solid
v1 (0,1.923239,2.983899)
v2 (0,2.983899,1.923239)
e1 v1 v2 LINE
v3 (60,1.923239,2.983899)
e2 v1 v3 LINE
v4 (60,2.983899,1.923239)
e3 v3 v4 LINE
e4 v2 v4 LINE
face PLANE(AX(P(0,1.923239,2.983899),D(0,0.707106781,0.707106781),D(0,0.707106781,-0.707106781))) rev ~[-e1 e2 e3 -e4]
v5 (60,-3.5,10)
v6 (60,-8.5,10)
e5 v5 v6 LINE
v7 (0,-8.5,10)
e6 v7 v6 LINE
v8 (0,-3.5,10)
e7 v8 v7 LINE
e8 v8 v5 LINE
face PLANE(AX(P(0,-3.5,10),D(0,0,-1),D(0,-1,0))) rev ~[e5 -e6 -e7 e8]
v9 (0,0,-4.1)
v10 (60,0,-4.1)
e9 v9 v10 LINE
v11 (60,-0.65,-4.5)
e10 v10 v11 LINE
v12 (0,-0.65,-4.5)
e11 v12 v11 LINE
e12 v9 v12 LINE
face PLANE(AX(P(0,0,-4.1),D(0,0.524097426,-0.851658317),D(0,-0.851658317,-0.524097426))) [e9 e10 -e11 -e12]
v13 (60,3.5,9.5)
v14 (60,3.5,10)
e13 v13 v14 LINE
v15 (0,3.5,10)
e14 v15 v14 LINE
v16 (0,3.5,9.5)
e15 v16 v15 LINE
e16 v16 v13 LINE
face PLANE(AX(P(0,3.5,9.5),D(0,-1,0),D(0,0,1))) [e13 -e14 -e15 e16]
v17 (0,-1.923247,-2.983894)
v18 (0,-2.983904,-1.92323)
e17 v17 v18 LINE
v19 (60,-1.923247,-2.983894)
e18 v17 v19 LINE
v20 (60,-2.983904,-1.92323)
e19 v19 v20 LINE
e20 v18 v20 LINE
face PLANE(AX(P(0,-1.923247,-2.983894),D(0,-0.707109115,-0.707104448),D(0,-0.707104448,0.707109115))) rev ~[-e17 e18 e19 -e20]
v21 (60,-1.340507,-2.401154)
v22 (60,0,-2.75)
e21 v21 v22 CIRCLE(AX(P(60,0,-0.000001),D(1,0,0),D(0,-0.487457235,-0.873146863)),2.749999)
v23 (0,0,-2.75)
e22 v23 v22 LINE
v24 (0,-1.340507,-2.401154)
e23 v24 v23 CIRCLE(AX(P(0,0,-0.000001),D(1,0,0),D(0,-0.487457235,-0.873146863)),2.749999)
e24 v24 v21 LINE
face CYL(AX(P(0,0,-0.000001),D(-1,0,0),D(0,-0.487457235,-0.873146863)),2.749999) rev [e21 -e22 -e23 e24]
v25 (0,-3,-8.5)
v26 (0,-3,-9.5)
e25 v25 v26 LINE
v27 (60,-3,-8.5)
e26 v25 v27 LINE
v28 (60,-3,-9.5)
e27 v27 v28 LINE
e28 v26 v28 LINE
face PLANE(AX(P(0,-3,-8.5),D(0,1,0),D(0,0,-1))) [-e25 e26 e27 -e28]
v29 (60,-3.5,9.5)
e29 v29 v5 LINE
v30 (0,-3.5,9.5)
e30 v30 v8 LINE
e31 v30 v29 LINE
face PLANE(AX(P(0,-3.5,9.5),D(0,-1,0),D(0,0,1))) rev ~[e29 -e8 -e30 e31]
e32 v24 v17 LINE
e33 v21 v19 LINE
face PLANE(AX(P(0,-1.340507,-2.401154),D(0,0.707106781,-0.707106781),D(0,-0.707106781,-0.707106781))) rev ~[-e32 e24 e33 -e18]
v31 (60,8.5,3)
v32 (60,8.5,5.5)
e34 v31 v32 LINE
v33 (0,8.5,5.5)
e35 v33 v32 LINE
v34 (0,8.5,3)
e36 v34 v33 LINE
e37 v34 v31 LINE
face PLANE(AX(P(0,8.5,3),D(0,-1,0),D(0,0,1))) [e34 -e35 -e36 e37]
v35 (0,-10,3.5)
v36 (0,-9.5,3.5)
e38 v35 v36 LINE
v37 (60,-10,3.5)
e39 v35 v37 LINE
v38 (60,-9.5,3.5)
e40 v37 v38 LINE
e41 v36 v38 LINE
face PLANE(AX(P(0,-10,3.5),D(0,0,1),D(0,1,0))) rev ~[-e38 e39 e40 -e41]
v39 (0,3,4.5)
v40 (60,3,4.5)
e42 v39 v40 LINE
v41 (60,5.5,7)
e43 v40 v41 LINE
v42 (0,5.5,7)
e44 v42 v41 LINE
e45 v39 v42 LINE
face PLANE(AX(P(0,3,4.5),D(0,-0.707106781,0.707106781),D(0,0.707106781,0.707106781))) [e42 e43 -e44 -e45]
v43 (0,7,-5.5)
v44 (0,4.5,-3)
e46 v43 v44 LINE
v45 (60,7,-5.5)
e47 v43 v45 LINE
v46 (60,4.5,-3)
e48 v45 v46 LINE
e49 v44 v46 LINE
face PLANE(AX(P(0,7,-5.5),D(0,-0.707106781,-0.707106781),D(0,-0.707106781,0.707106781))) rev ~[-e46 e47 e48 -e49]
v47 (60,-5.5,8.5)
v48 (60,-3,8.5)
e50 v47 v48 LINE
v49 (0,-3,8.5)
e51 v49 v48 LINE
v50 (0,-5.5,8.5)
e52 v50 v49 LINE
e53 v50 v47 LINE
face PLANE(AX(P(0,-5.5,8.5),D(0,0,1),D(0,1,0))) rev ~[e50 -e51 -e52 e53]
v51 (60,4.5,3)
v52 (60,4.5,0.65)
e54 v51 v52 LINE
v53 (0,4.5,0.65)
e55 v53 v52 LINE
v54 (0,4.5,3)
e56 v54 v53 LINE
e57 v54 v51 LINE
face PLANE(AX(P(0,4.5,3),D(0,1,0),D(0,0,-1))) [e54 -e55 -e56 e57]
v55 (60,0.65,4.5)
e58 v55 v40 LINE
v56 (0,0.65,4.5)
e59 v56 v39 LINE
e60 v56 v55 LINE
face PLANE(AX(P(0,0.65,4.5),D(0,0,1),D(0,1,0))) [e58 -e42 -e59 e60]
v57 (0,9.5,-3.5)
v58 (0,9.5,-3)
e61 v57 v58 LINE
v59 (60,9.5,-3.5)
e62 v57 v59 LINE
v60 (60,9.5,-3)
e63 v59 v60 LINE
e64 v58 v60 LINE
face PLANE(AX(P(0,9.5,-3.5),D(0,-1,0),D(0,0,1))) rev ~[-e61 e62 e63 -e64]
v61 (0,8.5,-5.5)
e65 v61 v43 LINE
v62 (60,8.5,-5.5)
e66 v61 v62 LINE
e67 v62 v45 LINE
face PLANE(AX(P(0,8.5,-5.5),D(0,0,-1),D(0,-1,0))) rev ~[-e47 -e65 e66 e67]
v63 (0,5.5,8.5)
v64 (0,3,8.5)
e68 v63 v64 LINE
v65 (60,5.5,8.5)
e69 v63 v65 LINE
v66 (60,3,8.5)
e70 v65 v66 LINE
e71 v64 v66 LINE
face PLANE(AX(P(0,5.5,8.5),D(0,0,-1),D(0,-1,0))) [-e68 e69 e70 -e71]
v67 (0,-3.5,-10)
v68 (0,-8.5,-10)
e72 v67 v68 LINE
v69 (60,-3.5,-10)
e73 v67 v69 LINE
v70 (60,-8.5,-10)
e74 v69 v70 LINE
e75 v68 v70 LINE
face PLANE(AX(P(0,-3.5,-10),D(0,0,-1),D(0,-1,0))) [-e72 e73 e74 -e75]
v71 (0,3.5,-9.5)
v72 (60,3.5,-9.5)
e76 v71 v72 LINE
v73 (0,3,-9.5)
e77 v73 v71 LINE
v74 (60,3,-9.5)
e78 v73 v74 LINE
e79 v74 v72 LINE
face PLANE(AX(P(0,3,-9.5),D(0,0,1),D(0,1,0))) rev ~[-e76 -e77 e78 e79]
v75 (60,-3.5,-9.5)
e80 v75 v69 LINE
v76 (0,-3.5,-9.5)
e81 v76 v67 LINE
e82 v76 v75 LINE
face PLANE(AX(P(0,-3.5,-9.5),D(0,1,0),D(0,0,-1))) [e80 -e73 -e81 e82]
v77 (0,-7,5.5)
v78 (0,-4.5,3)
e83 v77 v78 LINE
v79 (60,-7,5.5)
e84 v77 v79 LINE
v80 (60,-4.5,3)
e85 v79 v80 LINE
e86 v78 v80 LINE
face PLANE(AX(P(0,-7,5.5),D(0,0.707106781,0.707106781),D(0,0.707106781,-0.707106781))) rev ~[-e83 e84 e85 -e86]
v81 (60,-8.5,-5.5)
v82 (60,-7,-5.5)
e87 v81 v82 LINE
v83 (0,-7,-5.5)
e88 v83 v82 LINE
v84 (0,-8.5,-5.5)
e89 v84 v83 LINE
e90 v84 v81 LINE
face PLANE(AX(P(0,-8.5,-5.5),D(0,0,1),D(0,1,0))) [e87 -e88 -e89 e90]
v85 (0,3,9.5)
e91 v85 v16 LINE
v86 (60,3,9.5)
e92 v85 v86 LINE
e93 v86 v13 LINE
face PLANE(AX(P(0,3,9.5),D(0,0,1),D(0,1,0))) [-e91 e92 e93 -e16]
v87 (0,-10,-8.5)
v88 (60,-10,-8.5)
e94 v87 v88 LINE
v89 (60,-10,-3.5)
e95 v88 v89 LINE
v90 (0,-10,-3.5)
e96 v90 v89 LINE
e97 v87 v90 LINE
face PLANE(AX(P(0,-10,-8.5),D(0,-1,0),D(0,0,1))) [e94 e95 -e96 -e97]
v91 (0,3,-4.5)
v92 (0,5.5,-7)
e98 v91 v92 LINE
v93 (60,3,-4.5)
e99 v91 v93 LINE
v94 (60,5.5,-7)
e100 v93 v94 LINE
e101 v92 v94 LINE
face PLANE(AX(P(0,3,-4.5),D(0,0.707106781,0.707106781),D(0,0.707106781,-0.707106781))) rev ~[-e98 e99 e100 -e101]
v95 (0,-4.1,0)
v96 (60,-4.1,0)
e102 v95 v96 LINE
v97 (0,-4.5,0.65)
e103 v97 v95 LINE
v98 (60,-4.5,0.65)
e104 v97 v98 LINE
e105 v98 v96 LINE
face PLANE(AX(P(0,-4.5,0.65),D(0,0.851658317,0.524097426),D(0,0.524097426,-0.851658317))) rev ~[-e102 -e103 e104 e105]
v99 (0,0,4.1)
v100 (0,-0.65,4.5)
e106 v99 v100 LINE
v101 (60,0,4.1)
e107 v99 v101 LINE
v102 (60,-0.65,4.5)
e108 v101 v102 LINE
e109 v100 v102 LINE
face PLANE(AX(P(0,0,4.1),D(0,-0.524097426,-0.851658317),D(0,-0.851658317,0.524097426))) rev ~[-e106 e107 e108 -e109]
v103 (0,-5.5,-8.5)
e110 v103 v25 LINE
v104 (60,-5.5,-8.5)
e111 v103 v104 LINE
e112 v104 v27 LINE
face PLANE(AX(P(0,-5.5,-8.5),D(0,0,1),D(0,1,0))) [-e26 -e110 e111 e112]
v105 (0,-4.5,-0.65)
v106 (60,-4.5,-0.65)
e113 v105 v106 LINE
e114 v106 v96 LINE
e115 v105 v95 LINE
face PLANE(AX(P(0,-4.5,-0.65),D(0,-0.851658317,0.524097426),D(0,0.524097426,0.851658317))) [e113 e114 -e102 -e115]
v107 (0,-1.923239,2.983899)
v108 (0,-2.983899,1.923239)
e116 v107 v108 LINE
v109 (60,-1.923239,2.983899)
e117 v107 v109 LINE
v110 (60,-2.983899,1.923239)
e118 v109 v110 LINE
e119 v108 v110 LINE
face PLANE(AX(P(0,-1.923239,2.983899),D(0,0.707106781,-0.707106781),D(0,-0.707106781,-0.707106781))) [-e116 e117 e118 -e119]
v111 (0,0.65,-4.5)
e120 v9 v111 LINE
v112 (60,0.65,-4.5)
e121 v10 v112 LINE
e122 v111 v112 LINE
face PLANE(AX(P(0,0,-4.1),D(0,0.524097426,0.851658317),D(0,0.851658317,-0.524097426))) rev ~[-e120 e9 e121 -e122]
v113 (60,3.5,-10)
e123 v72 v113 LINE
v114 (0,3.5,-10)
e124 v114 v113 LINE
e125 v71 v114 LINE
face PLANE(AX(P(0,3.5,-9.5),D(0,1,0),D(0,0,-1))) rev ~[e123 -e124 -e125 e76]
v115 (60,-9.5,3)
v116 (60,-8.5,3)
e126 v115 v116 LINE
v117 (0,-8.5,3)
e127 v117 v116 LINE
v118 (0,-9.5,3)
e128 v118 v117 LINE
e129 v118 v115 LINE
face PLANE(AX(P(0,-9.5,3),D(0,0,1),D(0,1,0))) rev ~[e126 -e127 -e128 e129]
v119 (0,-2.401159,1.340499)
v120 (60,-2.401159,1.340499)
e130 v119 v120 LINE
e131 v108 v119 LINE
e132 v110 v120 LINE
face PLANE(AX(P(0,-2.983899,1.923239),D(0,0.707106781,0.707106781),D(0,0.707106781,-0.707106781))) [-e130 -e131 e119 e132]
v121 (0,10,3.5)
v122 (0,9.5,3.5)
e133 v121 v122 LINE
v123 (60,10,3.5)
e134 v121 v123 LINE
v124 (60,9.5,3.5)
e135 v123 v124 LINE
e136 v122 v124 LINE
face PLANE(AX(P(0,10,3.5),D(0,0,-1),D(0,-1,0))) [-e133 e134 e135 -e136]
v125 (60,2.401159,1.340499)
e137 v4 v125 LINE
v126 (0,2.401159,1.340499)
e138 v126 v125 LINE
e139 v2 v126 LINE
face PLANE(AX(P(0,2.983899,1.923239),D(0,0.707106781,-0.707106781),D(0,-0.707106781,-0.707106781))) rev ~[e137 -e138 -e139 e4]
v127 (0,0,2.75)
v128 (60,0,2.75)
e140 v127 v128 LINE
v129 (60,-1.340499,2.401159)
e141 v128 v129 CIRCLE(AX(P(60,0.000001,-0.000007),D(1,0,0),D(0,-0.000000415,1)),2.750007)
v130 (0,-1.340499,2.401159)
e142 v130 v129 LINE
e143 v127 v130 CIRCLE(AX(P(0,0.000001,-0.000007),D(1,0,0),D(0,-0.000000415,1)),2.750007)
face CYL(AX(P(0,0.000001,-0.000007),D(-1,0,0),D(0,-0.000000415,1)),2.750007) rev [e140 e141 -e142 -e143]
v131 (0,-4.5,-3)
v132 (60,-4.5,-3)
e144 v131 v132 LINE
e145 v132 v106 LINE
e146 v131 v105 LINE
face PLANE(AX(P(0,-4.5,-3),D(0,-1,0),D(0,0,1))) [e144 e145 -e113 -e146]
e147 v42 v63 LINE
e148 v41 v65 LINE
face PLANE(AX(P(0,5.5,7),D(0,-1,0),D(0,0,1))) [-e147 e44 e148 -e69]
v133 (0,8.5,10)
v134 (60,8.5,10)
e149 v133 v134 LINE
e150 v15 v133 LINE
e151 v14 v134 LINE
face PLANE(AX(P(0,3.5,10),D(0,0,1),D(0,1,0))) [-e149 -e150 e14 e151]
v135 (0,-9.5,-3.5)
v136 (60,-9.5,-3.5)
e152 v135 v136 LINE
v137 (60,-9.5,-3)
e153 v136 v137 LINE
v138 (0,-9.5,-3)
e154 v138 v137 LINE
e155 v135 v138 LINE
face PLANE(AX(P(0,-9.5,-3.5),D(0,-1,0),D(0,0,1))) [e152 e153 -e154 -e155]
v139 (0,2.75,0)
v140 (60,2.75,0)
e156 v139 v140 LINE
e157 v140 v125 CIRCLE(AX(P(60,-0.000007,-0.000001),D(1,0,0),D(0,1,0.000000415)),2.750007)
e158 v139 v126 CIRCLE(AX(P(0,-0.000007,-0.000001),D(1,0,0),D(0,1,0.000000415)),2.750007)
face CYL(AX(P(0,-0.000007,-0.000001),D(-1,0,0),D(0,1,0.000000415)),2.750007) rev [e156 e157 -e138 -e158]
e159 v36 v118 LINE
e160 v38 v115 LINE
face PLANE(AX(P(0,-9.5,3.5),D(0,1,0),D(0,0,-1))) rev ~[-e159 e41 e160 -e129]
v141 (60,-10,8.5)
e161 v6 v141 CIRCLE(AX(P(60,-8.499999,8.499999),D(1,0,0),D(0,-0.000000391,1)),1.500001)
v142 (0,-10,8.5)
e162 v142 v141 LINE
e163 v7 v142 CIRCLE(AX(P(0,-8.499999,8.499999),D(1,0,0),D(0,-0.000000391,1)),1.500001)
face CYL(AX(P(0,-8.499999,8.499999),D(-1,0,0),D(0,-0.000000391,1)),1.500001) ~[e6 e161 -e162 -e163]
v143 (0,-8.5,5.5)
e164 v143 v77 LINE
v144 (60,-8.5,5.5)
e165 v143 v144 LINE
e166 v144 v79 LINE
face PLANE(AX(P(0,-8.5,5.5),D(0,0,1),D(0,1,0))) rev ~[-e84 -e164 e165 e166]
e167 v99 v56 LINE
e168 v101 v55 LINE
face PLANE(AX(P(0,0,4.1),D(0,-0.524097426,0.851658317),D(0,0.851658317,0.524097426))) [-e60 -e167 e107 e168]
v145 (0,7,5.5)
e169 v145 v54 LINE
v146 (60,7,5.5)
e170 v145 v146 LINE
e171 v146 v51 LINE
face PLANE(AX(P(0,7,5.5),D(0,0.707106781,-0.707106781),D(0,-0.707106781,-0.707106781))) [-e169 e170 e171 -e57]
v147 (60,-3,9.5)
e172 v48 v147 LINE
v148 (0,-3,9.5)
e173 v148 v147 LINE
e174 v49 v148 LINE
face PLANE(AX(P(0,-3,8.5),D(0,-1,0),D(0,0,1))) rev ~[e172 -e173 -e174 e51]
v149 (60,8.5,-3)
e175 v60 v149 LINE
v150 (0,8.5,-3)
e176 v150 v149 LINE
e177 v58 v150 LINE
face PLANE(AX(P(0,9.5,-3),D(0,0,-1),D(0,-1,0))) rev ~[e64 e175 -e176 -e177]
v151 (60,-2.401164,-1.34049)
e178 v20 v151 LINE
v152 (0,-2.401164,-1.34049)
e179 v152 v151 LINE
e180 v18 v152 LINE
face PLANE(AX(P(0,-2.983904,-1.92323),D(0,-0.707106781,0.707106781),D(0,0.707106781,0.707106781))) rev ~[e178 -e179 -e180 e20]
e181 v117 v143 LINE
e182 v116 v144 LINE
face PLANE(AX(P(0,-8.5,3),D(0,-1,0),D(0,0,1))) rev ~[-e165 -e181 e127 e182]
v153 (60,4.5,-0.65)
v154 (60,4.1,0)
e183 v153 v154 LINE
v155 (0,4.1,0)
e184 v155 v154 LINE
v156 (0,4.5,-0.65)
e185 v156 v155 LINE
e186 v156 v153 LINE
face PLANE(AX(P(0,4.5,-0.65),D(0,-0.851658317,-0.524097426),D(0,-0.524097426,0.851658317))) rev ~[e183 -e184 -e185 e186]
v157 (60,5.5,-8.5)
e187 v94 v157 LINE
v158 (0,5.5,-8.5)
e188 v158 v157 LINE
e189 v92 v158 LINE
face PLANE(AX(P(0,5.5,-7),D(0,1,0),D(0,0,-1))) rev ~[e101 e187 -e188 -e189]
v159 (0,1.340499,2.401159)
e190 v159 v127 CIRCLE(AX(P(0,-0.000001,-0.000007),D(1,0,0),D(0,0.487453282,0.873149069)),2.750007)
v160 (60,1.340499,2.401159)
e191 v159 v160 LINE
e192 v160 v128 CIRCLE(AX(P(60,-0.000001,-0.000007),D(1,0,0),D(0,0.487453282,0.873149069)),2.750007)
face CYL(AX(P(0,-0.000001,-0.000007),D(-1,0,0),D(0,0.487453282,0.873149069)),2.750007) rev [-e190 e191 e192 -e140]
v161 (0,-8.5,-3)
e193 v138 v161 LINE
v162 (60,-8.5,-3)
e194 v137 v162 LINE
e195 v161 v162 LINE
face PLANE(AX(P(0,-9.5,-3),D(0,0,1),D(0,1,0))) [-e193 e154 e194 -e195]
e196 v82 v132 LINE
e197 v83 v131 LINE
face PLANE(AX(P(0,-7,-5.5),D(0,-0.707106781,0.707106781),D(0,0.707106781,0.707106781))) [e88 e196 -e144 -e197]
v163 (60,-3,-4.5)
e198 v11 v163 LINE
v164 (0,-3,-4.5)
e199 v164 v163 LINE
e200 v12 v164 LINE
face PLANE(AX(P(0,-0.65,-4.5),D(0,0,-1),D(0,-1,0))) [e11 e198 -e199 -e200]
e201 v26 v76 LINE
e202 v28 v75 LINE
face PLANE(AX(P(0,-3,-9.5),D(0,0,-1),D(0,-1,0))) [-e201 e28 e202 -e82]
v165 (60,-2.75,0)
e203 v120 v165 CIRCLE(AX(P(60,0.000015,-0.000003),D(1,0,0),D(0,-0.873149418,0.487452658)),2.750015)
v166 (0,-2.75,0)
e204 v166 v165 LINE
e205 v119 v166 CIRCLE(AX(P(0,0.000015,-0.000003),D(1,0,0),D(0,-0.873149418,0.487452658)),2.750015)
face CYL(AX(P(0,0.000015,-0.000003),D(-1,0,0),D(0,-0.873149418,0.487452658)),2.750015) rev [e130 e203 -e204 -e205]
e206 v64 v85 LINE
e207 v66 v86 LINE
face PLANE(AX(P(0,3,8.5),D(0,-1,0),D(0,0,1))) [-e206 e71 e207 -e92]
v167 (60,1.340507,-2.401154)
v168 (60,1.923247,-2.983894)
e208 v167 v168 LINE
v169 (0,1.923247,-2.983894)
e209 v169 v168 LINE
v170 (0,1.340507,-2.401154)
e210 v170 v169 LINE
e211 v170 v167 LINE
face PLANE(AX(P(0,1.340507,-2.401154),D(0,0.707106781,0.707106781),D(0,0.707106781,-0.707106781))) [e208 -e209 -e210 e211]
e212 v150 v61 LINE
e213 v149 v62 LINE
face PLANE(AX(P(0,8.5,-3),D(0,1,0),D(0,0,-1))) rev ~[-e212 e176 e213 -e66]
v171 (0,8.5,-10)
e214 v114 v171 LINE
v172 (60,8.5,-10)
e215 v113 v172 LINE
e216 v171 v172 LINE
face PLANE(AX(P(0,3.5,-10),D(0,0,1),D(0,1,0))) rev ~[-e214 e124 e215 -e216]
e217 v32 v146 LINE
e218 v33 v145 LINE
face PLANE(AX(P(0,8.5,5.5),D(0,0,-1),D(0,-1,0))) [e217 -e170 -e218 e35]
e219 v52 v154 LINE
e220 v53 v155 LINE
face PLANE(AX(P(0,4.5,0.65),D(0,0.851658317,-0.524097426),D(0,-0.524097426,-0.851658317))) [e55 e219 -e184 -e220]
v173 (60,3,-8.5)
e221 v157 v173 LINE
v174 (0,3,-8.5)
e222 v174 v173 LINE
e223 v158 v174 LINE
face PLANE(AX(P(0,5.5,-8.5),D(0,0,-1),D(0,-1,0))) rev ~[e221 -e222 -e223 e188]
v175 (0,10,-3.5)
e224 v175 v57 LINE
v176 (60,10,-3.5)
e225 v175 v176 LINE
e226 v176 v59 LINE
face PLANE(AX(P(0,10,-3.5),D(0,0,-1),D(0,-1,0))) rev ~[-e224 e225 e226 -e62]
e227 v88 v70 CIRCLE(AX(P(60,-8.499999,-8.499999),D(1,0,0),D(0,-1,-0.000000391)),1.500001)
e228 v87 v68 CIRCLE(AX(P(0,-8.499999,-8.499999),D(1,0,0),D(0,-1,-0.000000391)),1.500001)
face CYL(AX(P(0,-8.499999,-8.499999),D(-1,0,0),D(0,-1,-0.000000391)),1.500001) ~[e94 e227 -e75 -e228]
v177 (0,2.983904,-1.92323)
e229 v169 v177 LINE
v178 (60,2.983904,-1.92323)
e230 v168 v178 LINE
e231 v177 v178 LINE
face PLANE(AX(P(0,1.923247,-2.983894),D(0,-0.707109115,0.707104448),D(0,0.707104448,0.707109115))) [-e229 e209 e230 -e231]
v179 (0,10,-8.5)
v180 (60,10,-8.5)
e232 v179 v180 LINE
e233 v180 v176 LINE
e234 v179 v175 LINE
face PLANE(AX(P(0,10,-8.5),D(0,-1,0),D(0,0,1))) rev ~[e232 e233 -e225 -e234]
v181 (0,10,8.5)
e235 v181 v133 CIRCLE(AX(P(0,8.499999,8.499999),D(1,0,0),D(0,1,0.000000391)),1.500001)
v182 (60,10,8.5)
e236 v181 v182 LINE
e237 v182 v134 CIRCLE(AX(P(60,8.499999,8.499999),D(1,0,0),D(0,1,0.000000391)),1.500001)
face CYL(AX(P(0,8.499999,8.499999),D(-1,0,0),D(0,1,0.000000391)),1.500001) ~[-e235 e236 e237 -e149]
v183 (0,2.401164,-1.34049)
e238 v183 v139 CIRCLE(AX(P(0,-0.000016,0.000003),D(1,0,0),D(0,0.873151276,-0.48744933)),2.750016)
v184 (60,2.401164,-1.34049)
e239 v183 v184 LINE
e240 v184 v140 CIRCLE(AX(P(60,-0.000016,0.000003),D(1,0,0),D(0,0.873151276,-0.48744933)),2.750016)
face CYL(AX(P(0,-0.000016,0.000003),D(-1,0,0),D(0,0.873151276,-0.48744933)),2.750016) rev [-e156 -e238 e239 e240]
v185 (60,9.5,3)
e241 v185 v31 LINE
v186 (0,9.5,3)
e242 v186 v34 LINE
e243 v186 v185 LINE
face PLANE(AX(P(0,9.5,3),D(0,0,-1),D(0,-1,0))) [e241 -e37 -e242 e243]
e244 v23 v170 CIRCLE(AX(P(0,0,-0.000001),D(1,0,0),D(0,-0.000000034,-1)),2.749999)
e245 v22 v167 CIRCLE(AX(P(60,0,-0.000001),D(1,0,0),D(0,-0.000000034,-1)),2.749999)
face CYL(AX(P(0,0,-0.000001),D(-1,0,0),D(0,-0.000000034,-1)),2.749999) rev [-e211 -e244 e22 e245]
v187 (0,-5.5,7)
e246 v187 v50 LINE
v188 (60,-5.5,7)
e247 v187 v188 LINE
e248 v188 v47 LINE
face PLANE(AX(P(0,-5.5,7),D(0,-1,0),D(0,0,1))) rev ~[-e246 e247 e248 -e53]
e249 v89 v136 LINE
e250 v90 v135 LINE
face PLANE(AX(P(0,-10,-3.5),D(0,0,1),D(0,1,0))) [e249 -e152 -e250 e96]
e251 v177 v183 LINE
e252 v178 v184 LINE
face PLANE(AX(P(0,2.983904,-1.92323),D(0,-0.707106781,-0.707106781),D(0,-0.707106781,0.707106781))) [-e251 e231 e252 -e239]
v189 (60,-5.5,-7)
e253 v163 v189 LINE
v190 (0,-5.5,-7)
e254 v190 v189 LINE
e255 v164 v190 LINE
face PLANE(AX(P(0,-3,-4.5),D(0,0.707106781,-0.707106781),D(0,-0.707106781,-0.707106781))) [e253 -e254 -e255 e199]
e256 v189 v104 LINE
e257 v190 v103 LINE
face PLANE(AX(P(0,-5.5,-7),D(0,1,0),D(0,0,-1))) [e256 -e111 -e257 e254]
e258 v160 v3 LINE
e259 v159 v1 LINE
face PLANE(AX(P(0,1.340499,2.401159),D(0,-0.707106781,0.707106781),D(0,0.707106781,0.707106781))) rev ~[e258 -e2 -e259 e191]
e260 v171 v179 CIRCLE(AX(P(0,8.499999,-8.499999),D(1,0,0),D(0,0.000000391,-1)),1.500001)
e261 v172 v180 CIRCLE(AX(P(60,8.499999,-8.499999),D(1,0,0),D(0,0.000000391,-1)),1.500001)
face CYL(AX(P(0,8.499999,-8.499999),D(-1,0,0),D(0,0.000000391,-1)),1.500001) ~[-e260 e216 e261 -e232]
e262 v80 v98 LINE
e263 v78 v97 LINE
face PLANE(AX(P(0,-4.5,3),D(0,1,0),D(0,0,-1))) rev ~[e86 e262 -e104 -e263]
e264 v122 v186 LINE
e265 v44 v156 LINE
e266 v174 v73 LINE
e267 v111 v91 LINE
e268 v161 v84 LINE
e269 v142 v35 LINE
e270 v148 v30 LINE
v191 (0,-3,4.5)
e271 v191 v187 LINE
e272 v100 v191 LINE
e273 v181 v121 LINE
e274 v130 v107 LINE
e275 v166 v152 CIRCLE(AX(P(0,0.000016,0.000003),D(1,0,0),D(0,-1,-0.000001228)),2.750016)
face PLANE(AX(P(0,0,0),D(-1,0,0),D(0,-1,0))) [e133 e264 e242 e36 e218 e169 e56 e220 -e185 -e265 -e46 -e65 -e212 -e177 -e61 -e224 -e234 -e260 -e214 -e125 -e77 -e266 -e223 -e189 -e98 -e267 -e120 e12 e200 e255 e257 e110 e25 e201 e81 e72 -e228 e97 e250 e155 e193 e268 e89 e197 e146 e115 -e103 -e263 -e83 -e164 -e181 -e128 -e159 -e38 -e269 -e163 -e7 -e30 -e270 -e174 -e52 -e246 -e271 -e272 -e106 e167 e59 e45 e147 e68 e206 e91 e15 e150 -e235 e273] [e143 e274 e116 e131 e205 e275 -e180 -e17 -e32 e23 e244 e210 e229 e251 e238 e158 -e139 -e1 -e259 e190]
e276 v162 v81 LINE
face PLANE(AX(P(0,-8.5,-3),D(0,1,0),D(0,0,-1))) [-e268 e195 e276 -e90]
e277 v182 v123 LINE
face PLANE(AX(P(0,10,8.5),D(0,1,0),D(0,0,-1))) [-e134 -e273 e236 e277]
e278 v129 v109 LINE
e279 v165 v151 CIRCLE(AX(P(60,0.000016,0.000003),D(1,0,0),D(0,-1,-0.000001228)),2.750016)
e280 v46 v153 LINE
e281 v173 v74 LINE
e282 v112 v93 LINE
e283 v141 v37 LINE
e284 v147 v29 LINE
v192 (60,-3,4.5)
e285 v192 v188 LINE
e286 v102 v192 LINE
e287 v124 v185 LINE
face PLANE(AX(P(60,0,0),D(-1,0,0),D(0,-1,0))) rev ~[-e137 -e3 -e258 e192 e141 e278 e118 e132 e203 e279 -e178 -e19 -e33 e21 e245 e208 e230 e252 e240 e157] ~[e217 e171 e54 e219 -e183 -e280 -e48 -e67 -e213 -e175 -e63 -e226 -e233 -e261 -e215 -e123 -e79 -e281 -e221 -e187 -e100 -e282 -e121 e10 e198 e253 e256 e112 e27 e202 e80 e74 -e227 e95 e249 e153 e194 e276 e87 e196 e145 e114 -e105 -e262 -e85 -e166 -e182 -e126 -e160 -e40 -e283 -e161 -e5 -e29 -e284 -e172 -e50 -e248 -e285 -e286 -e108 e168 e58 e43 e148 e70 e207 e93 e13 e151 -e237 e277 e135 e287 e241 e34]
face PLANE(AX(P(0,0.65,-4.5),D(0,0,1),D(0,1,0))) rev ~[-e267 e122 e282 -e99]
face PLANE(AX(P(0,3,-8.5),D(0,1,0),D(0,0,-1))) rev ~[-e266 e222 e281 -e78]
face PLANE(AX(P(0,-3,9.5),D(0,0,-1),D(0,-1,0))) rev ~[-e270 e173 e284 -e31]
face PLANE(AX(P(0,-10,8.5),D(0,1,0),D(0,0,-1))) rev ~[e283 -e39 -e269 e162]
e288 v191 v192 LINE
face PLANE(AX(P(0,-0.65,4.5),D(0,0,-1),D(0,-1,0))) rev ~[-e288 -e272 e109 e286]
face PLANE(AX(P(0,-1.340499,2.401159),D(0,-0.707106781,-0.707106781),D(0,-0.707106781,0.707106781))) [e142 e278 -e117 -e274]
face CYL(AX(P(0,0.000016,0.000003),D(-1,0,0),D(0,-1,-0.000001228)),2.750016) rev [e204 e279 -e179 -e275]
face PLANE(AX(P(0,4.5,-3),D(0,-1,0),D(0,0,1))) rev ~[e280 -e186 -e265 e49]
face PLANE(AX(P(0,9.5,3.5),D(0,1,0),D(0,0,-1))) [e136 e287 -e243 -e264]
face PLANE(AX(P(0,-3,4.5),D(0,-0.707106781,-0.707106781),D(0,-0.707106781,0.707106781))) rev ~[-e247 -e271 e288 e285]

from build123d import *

# Parameters (mm, degrees)
PAD_DEPTH = 60


with BuildPart() as part:
    # Sketch → Pad (new body)
    with BuildSketch(Plane.YZ):
        with BuildLine():
            Line((0, 4.1), (0.65, 4.5))
            Line((0.65, 4.5), (3, 4.5))
            Line((3, 4.5), (5.5, 7))
            Line((5.5, 7), (5.5, 8.5))
            Line((5.5, 8.5), (3, 8.5))
            Line((3, 8.5), (3, 9.5))
            Line((3, 9.5), (3.5, 9.5))
            Line((3.5, 9.5), (3.5, 10))
            Line((3.5, 10), (8.5, 10))
            ThreePointArc((10, 8.5), (9.56066, 9.56066), (8.5, 10))
            Line((10, 8.5), (10, 3.5))
            Line((10, 3.5), (9.5, 3.5))
            Line((9.5, 3.5), (9.5, 3))
            Line((9.5, 3), (8.5, 3))
            Line((8.5, 3), (8.5, 5.5))
            Line((8.5, 5.5), (7, 5.5))
            Line((7, 5.5), (4.5, 3))
            Line((4.5, 3), (4.5, 0.65))
            Line((4.5, 0.65), (4.1, 0))
            Line((4.5, -0.65), (4.1, 0))
            Line((4.5, -3), (4.5, -0.65))
            Line((7, -5.5), (4.5, -3))
            Line((8.5, -5.5), (7, -5.5))
            Line((8.5, -3), (8.5, -5.5))
            Line((9.5, -3), (8.5, -3))
            Line((9.5, -3.5), (9.5, -3))
            Line((10, -3.5), (9.5, -3.5))
            Line((10, -8.5), (10, -3.5))
            ThreePointArc((8.5, -10), (9.56066, -9.56066), (10, -8.5))
            Line((3.5, -10), (8.5, -10))
            Line((3.5, -9.5), (3.5, -10))
            Line((3, -9.5), (3.5, -9.5))
            Line((3, -8.5), (3, -9.5))
            Line((5.5, -8.5), (3, -8.5))
            Line((5.5, -7), (5.5, -8.5))
            Line((3, -4.5), (5.5, -7))
            Line((0.65, -4.5), (3, -4.5))
            Line((0, -4.1), (0.65, -4.5))
            Line((0, -4.1), (-0.65, -4.5))
            Line((-0.65, -4.5), (-3, -4.5))
            Line((-3, -4.5), (-5.5, -7))
            Line((-5.5, -7), (-5.5, -8.5))
            Line((-5.5, -8.5), (-3, -8.5))
            Line((-3, -8.5), (-3, -9.5))
            Line((-3, -9.5), (-3.5, -9.5))
            Line((-3.5, -9.5), (-3.5, -10))
            Line((-3.5, -10), (-8.5, -10))
            ThreePointArc((-10, -8.5), (-9.56066, -9.56066), (-8.5, -10))
            Line((-10, -8.5), (-10, -3.5))
            Line((-10, -3.5), (-9.5, -3.5))
            Line((-9.5, -3.5), (-9.5, -3))
            Line((-9.5, -3), (-8.5, -3))
            Line((-8.5, -3), (-8.5, -5.5))
            Line((-8.5, -5.5), (-7, -5.5))
            Line((-7, -5.5), (-4.5, -3))
            Line((-4.5, -3), (-4.5, -0.65))
            Line((-4.5, -0.65), (-4.1, 0))
            Line((-4.5, 0.65), (-4.1, 0))
            Line((-4.5, 3), (-4.5, 0.65))
            Line((-7, 5.5), (-4.5, 3))
            Line((-8.5, 5.5), (-7, 5.5))
            Line((-8.5, 3), (-8.5, 5.5))
            Line((-9.5, 3), (-8.5, 3))
            Line((-9.5, 3.5), (-9.5, 3))
            Line((-10, 3.5), (-9.5, 3.5))
            Line((-10, 8.5), (-10, 3.5))
            ThreePointArc((-8.5, 10), (-9.56066, 9.56066), (-10, 8.5))
            Line((-3.5, 10), (-8.5, 10))
            Line((-3.5, 9.5), (-3.5, 10))
            Line((-3, 9.5), (-3.5, 9.5))
            Line((-3, 8.5), (-3, 9.5))
            Line((-5.5, 8.5), (-3, 8.5))
            Line((-5.5, 7), (-5.5, 8.5))
            Line((-3, 4.5), (-5.5, 7))
            Line((-0.65, 4.5), (-3, 4.5))
            Line((0, 4.1), (-0.65, 4.5))
        make_face()
        with BuildLine():
            Line((1.340499, 2.401159), (1.923239, 2.983899))
            Line((1.923239, 2.983899), (2.983899, 1.923239))
            Line((2.983899, 1.923239), (2.401159, 1.340499))
            ThreePointArc((2.75, 0), (2.661361, 0.692573), (2.401159, 1.340499))
            ThreePointArc((2.401164, -1.34049), (2.661362, -0.692568), (2.75, 0))
            Line((2.983904, -1.92323), (2.401164, -1.34049))
            Line((1.923247, -2.983894), (2.983904, -1.92323))
            Line((1.340507, -2.401154), (1.923247, -2.983894))
            ThreePointArc((0, -2.75), (0.692577, -2.66136), (1.340507, -2.401154))
            ThreePointArc((-1.340507, -2.401154), (-0.692577, -2.66136), (0, -2.75))
            Line((-1.340507, -2.401154), (-1.923247, -2.983894))
            Line((-1.923247, -2.983894), (-2.983904, -1.92323))
            Line((-2.983904, -1.92323), (-2.401164, -1.34049))
            ThreePointArc((-2.75, 0), (-2.661362, -0.692568), (-2.401164, -1.34049))
            ThreePointArc((-2.401159, 1.340499), (-2.661361, 0.692572), (-2.75, 0))
            Line((-2.983899, 1.923239), (-2.401159, 1.340499))
            Line((-1.923239, 2.983899), (-2.983899, 1.923239))
            Line((-1.340499, 2.401159), (-1.923239, 2.983899))
            ThreePointArc((0, 2.75), (-0.692573, 2.661361), (-1.340499, 2.401159))
            ThreePointArc((1.340499, 2.401159), (0.692573, 2.661361), (0, 2.75))
        make_face(mode=Mode.SUBTRACT)
    extrude(amount=PAD_DEPTH)


solid = part.part
